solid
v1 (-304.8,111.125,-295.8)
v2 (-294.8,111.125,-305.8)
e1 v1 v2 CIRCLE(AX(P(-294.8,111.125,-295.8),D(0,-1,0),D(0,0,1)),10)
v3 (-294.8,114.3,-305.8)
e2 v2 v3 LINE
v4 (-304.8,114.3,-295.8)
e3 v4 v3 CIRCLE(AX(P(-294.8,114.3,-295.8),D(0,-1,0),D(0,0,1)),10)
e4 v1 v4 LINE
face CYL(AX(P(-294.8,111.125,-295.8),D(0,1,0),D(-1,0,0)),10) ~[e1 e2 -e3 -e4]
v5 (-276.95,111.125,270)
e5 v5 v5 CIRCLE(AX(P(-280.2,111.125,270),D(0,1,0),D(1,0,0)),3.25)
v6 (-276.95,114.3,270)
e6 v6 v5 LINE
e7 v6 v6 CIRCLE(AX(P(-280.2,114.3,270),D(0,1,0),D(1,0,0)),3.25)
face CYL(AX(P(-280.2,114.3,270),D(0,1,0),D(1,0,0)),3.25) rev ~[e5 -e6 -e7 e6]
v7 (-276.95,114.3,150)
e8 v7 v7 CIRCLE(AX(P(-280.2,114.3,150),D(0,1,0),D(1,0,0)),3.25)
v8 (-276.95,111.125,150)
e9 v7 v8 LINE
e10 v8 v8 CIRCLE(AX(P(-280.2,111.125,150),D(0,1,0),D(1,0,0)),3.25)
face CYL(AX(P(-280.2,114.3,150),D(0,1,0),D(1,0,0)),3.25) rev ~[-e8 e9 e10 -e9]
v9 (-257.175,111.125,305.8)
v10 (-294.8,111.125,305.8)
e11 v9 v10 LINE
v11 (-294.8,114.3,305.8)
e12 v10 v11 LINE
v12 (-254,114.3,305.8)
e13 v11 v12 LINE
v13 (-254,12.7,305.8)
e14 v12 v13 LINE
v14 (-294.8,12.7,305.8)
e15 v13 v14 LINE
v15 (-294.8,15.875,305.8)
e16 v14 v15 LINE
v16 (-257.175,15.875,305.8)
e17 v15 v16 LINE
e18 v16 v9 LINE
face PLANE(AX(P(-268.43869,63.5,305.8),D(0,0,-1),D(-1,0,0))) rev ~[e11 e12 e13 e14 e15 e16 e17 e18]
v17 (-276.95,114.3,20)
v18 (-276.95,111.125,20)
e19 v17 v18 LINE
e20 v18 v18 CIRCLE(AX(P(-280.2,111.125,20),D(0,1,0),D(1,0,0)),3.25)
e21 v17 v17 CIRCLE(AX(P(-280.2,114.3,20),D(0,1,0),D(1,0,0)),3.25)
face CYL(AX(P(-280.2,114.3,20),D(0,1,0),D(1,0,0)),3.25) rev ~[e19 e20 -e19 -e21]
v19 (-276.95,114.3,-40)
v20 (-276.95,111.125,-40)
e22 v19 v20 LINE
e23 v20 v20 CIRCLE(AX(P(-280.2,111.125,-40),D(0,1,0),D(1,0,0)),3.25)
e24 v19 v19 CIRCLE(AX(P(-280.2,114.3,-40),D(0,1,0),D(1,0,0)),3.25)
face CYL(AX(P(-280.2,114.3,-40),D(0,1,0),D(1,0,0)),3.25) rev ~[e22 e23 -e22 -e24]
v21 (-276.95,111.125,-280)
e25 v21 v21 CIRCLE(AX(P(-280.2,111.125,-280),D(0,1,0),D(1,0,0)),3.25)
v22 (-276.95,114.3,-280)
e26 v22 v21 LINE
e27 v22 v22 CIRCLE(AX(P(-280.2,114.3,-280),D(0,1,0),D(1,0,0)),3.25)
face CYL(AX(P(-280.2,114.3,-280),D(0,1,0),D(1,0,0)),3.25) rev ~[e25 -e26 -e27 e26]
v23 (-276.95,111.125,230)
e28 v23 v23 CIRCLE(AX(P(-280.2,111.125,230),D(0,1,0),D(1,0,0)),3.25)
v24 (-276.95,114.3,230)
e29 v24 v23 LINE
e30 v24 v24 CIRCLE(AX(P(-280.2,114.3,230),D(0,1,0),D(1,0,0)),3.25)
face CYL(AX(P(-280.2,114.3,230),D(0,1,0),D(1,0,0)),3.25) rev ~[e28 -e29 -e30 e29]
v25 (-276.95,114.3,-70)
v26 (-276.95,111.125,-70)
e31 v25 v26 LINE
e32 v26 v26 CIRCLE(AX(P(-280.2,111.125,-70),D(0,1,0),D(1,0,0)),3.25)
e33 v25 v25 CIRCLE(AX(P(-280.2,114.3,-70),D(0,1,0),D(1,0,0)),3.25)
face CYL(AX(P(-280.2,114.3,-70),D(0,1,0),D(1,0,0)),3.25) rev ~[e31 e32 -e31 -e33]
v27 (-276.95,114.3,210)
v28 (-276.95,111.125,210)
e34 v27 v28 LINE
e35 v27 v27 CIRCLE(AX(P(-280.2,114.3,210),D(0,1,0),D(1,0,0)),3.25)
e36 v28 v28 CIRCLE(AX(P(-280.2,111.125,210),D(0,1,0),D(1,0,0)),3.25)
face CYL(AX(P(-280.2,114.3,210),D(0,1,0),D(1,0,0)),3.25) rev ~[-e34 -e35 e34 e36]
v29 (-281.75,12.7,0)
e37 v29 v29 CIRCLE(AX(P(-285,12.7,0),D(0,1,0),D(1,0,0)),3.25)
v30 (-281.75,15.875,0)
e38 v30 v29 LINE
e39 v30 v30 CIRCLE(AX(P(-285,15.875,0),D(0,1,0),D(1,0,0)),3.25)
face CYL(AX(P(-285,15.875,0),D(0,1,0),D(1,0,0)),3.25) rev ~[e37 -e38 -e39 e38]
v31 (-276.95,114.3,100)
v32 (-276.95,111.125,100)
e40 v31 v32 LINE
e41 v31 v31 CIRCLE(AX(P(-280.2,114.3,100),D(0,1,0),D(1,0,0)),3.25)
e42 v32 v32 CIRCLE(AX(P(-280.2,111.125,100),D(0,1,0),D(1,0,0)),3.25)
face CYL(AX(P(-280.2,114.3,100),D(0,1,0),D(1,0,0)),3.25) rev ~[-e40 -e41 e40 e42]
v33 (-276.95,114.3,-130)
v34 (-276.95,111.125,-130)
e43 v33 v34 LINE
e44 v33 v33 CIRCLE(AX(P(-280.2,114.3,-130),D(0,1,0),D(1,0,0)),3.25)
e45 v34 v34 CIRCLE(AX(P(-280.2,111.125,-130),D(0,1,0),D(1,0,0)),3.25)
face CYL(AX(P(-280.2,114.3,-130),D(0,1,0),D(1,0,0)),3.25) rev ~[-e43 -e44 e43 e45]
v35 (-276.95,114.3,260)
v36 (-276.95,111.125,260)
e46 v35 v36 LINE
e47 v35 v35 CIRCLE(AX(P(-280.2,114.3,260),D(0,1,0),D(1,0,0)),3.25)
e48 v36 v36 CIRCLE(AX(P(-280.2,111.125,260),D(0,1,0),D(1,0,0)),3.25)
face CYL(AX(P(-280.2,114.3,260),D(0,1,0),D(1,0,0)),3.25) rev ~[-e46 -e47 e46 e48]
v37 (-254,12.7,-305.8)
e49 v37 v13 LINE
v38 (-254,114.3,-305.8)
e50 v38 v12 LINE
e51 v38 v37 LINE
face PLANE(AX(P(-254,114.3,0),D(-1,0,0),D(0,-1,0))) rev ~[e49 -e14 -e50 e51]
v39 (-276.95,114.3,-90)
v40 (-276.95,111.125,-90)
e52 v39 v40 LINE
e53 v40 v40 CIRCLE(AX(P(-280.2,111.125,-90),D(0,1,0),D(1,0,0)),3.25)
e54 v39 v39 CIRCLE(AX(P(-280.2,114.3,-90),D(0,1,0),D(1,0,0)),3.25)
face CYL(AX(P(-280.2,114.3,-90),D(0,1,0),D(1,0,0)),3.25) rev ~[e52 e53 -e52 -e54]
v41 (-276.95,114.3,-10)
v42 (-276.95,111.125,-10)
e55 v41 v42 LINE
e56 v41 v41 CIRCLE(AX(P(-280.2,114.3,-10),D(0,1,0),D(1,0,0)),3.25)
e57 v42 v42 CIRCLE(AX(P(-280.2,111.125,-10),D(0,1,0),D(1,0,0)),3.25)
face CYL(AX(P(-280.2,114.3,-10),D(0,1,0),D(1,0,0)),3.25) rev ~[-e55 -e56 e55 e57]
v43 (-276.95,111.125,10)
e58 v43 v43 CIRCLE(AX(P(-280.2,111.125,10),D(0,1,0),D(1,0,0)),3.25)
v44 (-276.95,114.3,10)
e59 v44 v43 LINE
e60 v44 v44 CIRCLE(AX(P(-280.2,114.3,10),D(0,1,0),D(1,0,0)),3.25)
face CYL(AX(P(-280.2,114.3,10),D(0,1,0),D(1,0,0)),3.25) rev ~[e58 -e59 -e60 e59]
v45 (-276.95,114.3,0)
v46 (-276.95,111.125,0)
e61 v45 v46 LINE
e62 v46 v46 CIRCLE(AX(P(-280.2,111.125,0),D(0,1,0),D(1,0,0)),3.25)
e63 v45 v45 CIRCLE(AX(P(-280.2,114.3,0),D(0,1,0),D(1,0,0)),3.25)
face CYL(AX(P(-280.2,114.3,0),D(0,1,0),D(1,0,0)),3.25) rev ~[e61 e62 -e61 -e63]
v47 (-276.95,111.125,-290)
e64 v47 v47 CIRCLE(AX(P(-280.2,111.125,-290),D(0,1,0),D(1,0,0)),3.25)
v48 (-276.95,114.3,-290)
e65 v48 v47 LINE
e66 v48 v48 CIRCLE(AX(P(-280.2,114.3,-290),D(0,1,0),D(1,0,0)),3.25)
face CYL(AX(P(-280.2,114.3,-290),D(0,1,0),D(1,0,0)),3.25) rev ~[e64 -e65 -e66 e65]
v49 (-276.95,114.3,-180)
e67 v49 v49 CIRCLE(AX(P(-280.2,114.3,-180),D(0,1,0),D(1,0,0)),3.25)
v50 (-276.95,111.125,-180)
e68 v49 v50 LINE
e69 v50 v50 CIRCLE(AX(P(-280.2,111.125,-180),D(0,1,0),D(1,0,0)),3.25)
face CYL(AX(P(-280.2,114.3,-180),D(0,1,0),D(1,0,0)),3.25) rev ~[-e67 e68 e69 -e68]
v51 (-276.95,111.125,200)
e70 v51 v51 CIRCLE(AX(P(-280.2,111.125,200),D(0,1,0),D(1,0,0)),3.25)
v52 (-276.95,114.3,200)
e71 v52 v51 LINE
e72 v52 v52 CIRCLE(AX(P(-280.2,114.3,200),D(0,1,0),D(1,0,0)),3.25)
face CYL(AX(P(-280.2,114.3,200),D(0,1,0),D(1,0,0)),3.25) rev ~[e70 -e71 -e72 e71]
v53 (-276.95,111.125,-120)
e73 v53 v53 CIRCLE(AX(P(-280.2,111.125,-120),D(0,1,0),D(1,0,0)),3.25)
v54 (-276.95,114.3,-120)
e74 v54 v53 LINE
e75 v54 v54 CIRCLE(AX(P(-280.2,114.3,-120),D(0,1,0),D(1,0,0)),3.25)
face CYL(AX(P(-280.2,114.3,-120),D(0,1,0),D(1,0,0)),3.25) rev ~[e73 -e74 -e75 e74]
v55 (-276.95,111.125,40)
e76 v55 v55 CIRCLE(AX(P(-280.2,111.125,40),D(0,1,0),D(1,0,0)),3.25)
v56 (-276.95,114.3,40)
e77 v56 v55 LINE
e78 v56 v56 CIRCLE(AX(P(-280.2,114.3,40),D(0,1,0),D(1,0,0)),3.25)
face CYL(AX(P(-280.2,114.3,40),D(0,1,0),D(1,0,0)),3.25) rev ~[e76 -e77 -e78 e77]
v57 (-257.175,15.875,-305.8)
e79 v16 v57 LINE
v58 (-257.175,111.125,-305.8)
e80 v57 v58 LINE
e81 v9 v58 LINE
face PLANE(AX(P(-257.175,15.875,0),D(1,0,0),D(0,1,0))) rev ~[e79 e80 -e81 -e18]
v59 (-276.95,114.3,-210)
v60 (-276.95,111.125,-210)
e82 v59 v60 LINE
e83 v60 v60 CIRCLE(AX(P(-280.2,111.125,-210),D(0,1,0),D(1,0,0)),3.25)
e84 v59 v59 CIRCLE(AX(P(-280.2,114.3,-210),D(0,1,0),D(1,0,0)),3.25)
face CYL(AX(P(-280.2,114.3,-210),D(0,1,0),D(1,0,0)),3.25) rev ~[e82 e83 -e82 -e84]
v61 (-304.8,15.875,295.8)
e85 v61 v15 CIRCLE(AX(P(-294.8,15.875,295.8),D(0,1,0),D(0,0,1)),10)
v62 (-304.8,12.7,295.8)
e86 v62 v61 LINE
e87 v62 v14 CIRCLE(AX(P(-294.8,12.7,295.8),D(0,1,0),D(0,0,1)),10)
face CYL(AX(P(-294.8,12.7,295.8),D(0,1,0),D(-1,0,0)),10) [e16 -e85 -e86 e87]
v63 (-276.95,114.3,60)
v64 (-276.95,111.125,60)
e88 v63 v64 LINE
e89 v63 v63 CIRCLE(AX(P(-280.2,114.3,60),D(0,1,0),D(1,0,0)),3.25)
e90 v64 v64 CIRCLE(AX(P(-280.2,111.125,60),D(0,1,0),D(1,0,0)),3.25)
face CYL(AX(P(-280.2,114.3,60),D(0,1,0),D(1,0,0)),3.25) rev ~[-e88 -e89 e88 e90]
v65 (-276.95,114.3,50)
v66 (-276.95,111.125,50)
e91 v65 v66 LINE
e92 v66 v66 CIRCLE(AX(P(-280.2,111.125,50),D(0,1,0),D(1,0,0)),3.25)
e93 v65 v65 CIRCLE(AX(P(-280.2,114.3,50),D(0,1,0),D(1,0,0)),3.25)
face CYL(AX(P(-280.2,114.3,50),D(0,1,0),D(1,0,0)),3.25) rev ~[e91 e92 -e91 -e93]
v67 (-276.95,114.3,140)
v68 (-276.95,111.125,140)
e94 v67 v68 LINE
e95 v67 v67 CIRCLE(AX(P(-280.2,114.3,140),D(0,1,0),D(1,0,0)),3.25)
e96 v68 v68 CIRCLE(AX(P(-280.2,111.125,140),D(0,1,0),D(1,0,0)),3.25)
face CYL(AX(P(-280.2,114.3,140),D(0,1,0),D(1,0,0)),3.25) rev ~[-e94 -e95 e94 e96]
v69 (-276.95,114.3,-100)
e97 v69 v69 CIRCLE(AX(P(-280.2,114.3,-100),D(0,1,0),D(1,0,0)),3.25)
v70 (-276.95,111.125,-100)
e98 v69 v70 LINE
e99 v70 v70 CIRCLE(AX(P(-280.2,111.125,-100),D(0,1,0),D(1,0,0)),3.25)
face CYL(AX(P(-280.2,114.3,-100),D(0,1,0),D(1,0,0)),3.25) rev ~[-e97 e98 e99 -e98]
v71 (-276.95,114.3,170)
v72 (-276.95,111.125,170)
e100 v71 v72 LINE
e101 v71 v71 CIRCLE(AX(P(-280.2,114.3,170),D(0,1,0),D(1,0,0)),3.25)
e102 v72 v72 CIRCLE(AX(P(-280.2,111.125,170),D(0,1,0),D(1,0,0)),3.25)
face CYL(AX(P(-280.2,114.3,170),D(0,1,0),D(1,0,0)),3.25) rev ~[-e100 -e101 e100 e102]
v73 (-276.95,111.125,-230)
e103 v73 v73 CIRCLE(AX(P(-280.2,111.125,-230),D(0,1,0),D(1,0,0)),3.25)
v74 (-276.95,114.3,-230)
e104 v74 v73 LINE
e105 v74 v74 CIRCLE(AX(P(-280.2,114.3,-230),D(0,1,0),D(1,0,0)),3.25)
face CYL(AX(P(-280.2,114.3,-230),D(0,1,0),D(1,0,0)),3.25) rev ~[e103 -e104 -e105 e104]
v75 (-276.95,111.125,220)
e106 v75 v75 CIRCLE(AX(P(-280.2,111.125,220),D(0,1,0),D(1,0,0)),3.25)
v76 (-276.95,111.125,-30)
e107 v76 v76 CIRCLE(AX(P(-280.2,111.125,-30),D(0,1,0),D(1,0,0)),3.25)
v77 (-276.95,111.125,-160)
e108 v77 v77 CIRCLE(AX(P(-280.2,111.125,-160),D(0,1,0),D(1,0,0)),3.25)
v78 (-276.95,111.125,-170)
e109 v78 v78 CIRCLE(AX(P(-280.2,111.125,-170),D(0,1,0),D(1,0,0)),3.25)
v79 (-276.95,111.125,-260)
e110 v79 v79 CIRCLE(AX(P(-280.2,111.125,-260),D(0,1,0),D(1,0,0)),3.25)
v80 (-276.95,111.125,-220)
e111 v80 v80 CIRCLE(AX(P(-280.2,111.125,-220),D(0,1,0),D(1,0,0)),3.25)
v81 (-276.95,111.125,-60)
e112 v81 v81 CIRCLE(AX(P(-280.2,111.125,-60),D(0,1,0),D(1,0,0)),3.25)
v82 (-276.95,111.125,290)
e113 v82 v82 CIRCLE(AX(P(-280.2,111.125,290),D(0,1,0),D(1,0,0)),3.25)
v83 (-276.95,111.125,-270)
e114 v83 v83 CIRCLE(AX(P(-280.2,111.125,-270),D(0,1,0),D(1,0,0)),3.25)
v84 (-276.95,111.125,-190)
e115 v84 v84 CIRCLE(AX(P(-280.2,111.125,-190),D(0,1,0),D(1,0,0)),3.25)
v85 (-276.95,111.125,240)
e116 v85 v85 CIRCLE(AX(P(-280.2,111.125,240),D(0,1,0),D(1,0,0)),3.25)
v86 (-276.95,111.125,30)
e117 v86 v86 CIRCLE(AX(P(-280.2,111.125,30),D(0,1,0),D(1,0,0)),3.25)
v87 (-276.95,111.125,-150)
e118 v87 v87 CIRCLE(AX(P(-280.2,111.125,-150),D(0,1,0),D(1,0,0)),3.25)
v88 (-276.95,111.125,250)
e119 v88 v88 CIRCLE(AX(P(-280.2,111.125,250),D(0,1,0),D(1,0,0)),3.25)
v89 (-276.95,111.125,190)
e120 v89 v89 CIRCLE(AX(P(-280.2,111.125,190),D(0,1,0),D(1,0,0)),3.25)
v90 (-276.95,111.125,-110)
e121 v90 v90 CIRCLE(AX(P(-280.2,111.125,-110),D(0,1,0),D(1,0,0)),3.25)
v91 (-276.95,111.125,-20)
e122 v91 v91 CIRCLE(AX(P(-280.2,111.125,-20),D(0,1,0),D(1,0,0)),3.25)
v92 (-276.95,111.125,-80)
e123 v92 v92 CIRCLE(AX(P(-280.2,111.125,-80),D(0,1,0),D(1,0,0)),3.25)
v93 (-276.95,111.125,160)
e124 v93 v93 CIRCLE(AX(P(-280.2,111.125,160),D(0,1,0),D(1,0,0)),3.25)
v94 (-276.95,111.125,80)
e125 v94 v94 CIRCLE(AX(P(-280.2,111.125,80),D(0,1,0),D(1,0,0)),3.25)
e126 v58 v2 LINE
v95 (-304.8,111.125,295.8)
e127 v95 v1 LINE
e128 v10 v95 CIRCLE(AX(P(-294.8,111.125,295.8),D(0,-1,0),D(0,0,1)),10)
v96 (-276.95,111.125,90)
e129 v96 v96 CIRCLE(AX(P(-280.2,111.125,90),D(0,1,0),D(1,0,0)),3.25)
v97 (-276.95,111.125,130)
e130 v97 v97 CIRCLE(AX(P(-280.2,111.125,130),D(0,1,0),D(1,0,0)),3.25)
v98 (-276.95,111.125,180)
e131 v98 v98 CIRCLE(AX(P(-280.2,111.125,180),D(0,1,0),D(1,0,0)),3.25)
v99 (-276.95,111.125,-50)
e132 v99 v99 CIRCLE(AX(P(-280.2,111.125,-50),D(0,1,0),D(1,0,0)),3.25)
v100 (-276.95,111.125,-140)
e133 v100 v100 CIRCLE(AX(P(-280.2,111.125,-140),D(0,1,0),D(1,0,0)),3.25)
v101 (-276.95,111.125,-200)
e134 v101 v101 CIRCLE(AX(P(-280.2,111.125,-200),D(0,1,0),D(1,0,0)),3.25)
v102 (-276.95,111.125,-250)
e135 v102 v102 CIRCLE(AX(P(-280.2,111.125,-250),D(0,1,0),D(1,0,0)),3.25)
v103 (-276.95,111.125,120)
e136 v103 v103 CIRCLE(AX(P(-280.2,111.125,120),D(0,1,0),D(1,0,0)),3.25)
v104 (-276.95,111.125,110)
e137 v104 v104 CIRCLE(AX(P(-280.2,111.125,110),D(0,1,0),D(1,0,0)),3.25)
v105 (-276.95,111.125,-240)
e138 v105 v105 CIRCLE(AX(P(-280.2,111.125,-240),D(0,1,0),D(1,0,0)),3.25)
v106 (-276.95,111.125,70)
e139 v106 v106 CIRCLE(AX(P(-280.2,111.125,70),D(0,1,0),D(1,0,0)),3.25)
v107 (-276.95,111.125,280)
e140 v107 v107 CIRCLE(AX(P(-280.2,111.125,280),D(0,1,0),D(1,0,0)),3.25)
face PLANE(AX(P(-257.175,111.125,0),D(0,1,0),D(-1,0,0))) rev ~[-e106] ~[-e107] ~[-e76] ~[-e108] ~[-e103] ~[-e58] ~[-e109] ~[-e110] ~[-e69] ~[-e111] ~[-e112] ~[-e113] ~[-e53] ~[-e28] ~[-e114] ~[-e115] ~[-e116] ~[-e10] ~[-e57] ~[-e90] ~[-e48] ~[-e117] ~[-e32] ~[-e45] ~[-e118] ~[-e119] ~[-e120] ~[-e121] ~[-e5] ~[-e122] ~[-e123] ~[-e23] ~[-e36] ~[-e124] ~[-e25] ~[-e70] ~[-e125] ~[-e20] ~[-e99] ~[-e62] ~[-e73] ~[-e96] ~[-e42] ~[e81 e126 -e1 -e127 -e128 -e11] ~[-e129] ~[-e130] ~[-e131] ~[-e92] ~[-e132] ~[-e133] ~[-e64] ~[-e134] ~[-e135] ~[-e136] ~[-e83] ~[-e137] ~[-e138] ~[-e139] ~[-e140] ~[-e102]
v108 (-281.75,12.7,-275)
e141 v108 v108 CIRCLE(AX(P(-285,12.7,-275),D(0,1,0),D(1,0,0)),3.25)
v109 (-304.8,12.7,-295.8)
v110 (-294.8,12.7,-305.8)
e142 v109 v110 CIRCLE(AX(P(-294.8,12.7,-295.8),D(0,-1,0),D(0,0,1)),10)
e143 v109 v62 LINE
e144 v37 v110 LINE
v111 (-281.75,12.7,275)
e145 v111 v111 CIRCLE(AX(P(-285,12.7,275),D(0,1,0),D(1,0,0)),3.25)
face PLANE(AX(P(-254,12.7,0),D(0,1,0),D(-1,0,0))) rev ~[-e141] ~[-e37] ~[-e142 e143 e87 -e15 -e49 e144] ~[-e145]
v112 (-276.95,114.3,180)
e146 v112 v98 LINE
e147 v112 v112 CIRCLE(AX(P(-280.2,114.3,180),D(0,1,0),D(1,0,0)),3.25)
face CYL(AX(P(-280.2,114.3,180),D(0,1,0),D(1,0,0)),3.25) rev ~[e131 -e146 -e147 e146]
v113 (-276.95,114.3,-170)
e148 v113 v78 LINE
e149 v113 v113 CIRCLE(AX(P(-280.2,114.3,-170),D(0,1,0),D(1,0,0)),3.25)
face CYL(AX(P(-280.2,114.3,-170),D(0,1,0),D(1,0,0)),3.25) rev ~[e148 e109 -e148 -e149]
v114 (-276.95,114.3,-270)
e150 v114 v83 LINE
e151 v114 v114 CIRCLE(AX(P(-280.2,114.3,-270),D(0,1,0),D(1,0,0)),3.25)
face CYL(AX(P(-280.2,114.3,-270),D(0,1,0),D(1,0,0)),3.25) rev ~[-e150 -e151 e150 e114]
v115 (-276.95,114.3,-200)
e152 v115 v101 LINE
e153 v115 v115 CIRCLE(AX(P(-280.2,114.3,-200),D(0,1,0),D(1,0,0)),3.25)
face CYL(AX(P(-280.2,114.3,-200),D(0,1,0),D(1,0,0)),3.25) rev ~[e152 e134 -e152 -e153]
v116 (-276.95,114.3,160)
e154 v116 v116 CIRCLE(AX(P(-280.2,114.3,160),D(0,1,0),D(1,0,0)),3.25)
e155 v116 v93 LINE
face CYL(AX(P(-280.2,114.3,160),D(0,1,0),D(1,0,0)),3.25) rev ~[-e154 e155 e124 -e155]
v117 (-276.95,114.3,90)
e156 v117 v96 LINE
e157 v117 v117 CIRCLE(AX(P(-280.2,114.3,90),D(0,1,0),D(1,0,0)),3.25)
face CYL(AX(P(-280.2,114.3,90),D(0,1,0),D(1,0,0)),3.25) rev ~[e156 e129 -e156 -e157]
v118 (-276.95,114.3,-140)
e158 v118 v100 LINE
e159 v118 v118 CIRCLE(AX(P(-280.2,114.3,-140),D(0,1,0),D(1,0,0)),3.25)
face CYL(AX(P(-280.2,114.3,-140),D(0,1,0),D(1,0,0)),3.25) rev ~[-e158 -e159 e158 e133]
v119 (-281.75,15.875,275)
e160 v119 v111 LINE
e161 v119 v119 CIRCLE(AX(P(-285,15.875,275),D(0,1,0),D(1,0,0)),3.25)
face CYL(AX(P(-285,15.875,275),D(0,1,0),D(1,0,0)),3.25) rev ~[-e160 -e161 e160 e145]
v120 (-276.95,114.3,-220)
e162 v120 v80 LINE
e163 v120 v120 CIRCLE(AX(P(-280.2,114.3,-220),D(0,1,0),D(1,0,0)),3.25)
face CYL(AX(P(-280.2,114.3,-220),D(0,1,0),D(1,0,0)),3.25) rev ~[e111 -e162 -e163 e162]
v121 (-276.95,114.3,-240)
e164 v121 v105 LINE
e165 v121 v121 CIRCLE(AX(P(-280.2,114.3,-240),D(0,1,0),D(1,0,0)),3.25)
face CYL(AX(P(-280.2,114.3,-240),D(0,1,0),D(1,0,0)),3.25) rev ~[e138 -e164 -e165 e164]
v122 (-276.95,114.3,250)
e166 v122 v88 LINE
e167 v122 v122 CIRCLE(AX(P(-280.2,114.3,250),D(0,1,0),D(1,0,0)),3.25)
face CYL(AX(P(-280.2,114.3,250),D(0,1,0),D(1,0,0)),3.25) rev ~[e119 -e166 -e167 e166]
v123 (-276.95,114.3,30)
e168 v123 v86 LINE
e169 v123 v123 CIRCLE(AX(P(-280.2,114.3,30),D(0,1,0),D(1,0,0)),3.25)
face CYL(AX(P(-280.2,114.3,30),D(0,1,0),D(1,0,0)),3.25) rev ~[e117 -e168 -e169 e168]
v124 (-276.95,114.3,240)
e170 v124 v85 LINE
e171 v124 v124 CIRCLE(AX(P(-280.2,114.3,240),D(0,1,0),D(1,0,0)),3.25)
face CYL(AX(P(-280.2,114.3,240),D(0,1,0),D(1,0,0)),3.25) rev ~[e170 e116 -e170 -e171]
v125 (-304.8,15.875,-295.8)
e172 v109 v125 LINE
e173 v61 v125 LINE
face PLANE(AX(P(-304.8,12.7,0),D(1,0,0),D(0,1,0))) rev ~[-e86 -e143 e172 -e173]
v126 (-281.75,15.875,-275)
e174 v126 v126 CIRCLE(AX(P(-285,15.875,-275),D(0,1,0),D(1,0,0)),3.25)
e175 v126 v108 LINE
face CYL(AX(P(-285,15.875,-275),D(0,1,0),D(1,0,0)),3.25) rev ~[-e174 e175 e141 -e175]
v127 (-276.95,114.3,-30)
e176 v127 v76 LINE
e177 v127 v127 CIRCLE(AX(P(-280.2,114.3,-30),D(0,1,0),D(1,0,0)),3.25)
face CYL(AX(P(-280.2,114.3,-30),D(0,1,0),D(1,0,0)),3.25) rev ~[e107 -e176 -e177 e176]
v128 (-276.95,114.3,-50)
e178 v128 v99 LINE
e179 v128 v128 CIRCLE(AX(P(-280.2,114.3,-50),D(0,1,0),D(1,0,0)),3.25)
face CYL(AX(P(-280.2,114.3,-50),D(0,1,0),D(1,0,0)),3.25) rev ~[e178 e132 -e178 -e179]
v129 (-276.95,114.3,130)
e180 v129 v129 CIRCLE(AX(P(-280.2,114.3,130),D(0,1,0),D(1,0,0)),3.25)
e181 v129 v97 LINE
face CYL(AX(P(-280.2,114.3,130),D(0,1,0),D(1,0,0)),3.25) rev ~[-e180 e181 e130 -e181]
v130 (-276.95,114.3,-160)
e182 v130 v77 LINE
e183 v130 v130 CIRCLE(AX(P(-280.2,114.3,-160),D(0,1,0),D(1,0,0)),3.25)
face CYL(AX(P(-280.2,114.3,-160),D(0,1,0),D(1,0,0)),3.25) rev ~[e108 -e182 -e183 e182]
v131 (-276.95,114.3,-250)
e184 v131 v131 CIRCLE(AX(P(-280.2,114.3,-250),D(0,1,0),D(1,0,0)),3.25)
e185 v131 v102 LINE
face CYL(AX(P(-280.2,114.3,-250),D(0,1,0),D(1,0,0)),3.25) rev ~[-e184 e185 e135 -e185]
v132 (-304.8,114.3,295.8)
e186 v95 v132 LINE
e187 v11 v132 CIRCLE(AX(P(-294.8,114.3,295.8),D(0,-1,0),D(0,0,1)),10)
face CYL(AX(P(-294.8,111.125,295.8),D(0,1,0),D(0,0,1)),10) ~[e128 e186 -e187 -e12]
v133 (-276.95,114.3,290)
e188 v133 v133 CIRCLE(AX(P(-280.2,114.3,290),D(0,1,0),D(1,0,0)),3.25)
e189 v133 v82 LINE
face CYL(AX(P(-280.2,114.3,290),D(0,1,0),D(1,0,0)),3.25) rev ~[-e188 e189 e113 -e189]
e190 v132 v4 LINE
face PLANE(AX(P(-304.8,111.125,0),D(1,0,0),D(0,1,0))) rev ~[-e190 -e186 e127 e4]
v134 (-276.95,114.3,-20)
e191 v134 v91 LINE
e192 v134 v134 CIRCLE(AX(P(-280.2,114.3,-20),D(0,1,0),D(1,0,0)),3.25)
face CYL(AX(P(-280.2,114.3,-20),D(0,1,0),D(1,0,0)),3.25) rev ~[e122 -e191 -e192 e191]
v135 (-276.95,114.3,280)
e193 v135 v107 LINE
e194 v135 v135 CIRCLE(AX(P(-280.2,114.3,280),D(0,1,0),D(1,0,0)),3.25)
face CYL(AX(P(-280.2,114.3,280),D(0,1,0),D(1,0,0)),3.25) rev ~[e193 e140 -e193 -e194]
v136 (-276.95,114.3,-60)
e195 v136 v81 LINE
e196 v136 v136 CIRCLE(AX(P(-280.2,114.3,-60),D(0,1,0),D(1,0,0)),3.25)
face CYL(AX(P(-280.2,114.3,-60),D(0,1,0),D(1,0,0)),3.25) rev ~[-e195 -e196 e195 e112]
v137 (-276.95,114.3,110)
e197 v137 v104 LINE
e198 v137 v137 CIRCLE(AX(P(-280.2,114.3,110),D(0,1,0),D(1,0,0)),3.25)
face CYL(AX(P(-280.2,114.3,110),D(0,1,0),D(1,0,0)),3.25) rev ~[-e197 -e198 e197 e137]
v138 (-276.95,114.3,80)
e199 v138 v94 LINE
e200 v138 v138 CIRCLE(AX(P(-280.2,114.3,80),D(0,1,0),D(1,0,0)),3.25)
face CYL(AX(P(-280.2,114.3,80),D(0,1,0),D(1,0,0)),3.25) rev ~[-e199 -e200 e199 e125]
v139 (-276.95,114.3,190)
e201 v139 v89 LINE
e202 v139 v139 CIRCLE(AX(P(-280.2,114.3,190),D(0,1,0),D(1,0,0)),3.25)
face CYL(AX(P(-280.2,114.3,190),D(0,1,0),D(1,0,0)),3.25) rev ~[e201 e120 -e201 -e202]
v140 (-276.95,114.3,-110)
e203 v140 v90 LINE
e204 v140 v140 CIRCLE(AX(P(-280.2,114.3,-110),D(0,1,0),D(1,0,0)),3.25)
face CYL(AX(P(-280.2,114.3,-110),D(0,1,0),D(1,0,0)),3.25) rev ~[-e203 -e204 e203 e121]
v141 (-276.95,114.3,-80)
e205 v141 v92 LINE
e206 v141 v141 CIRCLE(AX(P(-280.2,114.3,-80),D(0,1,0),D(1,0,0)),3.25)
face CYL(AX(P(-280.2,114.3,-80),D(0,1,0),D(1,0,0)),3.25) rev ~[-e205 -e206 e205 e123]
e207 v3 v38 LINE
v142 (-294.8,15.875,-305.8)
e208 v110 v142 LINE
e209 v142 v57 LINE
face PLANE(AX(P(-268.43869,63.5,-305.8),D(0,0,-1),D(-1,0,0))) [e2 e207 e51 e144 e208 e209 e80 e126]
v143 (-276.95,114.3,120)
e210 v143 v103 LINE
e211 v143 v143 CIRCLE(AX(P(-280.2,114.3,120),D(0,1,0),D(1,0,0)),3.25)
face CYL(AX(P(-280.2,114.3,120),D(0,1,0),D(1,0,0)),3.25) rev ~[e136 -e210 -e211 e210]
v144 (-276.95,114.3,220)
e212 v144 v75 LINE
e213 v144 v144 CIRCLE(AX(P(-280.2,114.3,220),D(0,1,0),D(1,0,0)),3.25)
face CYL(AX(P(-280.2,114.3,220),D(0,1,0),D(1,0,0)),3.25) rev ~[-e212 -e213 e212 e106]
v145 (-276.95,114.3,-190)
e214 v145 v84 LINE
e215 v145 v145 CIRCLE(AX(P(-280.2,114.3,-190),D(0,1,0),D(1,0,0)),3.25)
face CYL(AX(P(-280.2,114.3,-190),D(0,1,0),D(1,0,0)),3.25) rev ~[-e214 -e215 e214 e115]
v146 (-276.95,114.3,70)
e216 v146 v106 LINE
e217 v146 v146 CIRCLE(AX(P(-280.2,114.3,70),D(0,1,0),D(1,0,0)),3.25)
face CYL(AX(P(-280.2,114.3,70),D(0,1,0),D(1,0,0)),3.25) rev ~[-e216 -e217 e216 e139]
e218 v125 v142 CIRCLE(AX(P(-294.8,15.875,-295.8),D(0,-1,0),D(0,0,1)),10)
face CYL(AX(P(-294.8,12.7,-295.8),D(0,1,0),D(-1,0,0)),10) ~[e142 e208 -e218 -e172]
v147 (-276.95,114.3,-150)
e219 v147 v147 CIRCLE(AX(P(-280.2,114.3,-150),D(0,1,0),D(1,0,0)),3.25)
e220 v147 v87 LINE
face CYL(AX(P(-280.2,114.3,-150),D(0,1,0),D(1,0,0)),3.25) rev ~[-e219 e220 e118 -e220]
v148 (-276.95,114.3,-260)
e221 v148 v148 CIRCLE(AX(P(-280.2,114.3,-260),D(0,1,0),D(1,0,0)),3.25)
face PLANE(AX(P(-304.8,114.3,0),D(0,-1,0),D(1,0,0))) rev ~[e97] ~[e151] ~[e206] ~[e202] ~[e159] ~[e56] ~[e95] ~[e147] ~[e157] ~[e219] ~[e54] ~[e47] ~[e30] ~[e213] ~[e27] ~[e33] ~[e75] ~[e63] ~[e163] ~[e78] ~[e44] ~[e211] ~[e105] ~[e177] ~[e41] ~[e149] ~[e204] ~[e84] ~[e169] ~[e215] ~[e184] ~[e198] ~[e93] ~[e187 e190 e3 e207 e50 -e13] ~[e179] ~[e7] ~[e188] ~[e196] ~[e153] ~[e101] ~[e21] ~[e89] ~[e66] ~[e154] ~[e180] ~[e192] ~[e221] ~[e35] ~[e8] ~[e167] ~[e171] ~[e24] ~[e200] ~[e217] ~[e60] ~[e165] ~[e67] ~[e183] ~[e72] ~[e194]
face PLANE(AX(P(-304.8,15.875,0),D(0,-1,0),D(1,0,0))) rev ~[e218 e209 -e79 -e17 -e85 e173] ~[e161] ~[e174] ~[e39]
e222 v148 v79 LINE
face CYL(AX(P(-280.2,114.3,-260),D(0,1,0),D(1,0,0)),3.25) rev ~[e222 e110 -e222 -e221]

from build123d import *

# Parameters (mm, degrees)
ALUM_C_CHNL_LONGBOSS_EXTRUDE2_DEPTH      = 305.8
ALUM_C_CHNL_LONGBOSS_EXTRUDE2_DEPTH_BACK = 305.8
FILLET1_R                                = 10
SKETCH7_R                                = 3.25
CUT_EXTRUDE4_DEPTH                       = 20
LPATTERN2_COUNT                          = 30
LPATTERN2_PITCH                          = 10
LPATTERN1_COUNT                          = 30
LPATTERN1_PITCH                          = 10
SKETCH10_R                               = 3.25
CUT_EXTRUDE8_DEPTH                       = 3.175


with BuildPart() as part:
    # Sketch2 → Alum C chnl LONGBoss-Extrude2 (new body, two sides)
    with BuildSketch(Plane.XY) as alum_c_chnl_longboss_extrude2_sk:
        Polygon((-304.8, 12.7), (-304.8, 15.875), (-257.175, 15.875), (-257.175, 111.125), (-304.8, 111.125), (-304.8, 114.3), (-254, 114.3), (-254, 12.7), align=None)
    extrude(amount=ALUM_C_CHNL_LONGBOSS_EXTRUDE2_DEPTH)
    extrude(alum_c_chnl_longboss_extrude2_sk.sketch, amount=-ALUM_C_CHNL_LONGBOSS_EXTRUDE2_DEPTH_BACK)

    # Fillet1
    fillet1_edges = [part.edges().sort_by_distance(p)[0] for p in [
        (-304.8, 112.7125, -305.8),
        (-304.8, 112.7125, 305.8),
        (-304.8, 14.2875, 305.8),
        (-304.8, 14.2875, -305.8),
    ]]
    fillet(fillet1_edges, radius=FILLET1_R)

    # Sketch7 → Cut-Extrude4 (cut)
    with BuildSketch(Plane(origin=(0, 114.3, 0), x_dir=(1, 0, 0), z_dir=(0, 1, 0))):
        with Locations((-280.2, 0)):
            Circle(SKETCH7_R)
    cut_extrude4 = extrude(amount=-CUT_EXTRUDE4_DEPTH, mode=Mode.SUBTRACT)

    # LPattern2: Cut-Extrude4 ×30
    with Locations(*[(0, 0, -i * LPATTERN2_PITCH) for i in range(1, LPATTERN2_COUNT)]):
        add(cut_extrude4, mode=Mode.SUBTRACT)

    # LPattern1: Cut-Extrude4 ×30
    with Locations(*[(0, 0, i * LPATTERN1_PITCH) for i in range(1, LPATTERN1_COUNT)]):
        add(cut_extrude4, mode=Mode.SUBTRACT)

    # Sketch10 → Cut-Extrude8 (cut)
    with BuildSketch(Plane(origin=(0, 15.875, 0), x_dir=(1, 0, 0), z_dir=(0, 1, 0))):
        with Locations((-285, 275)):
            Circle(SKETCH10_R)
        with Locations((-285, 0)):
            Circle(SKETCH10_R)
        with Locations((-285, -275)):
            Circle(SKETCH10_R)
    extrude(amount=-CUT_EXTRUDE8_DEPTH, mode=Mode.SUBTRACT)


solid = part.part
